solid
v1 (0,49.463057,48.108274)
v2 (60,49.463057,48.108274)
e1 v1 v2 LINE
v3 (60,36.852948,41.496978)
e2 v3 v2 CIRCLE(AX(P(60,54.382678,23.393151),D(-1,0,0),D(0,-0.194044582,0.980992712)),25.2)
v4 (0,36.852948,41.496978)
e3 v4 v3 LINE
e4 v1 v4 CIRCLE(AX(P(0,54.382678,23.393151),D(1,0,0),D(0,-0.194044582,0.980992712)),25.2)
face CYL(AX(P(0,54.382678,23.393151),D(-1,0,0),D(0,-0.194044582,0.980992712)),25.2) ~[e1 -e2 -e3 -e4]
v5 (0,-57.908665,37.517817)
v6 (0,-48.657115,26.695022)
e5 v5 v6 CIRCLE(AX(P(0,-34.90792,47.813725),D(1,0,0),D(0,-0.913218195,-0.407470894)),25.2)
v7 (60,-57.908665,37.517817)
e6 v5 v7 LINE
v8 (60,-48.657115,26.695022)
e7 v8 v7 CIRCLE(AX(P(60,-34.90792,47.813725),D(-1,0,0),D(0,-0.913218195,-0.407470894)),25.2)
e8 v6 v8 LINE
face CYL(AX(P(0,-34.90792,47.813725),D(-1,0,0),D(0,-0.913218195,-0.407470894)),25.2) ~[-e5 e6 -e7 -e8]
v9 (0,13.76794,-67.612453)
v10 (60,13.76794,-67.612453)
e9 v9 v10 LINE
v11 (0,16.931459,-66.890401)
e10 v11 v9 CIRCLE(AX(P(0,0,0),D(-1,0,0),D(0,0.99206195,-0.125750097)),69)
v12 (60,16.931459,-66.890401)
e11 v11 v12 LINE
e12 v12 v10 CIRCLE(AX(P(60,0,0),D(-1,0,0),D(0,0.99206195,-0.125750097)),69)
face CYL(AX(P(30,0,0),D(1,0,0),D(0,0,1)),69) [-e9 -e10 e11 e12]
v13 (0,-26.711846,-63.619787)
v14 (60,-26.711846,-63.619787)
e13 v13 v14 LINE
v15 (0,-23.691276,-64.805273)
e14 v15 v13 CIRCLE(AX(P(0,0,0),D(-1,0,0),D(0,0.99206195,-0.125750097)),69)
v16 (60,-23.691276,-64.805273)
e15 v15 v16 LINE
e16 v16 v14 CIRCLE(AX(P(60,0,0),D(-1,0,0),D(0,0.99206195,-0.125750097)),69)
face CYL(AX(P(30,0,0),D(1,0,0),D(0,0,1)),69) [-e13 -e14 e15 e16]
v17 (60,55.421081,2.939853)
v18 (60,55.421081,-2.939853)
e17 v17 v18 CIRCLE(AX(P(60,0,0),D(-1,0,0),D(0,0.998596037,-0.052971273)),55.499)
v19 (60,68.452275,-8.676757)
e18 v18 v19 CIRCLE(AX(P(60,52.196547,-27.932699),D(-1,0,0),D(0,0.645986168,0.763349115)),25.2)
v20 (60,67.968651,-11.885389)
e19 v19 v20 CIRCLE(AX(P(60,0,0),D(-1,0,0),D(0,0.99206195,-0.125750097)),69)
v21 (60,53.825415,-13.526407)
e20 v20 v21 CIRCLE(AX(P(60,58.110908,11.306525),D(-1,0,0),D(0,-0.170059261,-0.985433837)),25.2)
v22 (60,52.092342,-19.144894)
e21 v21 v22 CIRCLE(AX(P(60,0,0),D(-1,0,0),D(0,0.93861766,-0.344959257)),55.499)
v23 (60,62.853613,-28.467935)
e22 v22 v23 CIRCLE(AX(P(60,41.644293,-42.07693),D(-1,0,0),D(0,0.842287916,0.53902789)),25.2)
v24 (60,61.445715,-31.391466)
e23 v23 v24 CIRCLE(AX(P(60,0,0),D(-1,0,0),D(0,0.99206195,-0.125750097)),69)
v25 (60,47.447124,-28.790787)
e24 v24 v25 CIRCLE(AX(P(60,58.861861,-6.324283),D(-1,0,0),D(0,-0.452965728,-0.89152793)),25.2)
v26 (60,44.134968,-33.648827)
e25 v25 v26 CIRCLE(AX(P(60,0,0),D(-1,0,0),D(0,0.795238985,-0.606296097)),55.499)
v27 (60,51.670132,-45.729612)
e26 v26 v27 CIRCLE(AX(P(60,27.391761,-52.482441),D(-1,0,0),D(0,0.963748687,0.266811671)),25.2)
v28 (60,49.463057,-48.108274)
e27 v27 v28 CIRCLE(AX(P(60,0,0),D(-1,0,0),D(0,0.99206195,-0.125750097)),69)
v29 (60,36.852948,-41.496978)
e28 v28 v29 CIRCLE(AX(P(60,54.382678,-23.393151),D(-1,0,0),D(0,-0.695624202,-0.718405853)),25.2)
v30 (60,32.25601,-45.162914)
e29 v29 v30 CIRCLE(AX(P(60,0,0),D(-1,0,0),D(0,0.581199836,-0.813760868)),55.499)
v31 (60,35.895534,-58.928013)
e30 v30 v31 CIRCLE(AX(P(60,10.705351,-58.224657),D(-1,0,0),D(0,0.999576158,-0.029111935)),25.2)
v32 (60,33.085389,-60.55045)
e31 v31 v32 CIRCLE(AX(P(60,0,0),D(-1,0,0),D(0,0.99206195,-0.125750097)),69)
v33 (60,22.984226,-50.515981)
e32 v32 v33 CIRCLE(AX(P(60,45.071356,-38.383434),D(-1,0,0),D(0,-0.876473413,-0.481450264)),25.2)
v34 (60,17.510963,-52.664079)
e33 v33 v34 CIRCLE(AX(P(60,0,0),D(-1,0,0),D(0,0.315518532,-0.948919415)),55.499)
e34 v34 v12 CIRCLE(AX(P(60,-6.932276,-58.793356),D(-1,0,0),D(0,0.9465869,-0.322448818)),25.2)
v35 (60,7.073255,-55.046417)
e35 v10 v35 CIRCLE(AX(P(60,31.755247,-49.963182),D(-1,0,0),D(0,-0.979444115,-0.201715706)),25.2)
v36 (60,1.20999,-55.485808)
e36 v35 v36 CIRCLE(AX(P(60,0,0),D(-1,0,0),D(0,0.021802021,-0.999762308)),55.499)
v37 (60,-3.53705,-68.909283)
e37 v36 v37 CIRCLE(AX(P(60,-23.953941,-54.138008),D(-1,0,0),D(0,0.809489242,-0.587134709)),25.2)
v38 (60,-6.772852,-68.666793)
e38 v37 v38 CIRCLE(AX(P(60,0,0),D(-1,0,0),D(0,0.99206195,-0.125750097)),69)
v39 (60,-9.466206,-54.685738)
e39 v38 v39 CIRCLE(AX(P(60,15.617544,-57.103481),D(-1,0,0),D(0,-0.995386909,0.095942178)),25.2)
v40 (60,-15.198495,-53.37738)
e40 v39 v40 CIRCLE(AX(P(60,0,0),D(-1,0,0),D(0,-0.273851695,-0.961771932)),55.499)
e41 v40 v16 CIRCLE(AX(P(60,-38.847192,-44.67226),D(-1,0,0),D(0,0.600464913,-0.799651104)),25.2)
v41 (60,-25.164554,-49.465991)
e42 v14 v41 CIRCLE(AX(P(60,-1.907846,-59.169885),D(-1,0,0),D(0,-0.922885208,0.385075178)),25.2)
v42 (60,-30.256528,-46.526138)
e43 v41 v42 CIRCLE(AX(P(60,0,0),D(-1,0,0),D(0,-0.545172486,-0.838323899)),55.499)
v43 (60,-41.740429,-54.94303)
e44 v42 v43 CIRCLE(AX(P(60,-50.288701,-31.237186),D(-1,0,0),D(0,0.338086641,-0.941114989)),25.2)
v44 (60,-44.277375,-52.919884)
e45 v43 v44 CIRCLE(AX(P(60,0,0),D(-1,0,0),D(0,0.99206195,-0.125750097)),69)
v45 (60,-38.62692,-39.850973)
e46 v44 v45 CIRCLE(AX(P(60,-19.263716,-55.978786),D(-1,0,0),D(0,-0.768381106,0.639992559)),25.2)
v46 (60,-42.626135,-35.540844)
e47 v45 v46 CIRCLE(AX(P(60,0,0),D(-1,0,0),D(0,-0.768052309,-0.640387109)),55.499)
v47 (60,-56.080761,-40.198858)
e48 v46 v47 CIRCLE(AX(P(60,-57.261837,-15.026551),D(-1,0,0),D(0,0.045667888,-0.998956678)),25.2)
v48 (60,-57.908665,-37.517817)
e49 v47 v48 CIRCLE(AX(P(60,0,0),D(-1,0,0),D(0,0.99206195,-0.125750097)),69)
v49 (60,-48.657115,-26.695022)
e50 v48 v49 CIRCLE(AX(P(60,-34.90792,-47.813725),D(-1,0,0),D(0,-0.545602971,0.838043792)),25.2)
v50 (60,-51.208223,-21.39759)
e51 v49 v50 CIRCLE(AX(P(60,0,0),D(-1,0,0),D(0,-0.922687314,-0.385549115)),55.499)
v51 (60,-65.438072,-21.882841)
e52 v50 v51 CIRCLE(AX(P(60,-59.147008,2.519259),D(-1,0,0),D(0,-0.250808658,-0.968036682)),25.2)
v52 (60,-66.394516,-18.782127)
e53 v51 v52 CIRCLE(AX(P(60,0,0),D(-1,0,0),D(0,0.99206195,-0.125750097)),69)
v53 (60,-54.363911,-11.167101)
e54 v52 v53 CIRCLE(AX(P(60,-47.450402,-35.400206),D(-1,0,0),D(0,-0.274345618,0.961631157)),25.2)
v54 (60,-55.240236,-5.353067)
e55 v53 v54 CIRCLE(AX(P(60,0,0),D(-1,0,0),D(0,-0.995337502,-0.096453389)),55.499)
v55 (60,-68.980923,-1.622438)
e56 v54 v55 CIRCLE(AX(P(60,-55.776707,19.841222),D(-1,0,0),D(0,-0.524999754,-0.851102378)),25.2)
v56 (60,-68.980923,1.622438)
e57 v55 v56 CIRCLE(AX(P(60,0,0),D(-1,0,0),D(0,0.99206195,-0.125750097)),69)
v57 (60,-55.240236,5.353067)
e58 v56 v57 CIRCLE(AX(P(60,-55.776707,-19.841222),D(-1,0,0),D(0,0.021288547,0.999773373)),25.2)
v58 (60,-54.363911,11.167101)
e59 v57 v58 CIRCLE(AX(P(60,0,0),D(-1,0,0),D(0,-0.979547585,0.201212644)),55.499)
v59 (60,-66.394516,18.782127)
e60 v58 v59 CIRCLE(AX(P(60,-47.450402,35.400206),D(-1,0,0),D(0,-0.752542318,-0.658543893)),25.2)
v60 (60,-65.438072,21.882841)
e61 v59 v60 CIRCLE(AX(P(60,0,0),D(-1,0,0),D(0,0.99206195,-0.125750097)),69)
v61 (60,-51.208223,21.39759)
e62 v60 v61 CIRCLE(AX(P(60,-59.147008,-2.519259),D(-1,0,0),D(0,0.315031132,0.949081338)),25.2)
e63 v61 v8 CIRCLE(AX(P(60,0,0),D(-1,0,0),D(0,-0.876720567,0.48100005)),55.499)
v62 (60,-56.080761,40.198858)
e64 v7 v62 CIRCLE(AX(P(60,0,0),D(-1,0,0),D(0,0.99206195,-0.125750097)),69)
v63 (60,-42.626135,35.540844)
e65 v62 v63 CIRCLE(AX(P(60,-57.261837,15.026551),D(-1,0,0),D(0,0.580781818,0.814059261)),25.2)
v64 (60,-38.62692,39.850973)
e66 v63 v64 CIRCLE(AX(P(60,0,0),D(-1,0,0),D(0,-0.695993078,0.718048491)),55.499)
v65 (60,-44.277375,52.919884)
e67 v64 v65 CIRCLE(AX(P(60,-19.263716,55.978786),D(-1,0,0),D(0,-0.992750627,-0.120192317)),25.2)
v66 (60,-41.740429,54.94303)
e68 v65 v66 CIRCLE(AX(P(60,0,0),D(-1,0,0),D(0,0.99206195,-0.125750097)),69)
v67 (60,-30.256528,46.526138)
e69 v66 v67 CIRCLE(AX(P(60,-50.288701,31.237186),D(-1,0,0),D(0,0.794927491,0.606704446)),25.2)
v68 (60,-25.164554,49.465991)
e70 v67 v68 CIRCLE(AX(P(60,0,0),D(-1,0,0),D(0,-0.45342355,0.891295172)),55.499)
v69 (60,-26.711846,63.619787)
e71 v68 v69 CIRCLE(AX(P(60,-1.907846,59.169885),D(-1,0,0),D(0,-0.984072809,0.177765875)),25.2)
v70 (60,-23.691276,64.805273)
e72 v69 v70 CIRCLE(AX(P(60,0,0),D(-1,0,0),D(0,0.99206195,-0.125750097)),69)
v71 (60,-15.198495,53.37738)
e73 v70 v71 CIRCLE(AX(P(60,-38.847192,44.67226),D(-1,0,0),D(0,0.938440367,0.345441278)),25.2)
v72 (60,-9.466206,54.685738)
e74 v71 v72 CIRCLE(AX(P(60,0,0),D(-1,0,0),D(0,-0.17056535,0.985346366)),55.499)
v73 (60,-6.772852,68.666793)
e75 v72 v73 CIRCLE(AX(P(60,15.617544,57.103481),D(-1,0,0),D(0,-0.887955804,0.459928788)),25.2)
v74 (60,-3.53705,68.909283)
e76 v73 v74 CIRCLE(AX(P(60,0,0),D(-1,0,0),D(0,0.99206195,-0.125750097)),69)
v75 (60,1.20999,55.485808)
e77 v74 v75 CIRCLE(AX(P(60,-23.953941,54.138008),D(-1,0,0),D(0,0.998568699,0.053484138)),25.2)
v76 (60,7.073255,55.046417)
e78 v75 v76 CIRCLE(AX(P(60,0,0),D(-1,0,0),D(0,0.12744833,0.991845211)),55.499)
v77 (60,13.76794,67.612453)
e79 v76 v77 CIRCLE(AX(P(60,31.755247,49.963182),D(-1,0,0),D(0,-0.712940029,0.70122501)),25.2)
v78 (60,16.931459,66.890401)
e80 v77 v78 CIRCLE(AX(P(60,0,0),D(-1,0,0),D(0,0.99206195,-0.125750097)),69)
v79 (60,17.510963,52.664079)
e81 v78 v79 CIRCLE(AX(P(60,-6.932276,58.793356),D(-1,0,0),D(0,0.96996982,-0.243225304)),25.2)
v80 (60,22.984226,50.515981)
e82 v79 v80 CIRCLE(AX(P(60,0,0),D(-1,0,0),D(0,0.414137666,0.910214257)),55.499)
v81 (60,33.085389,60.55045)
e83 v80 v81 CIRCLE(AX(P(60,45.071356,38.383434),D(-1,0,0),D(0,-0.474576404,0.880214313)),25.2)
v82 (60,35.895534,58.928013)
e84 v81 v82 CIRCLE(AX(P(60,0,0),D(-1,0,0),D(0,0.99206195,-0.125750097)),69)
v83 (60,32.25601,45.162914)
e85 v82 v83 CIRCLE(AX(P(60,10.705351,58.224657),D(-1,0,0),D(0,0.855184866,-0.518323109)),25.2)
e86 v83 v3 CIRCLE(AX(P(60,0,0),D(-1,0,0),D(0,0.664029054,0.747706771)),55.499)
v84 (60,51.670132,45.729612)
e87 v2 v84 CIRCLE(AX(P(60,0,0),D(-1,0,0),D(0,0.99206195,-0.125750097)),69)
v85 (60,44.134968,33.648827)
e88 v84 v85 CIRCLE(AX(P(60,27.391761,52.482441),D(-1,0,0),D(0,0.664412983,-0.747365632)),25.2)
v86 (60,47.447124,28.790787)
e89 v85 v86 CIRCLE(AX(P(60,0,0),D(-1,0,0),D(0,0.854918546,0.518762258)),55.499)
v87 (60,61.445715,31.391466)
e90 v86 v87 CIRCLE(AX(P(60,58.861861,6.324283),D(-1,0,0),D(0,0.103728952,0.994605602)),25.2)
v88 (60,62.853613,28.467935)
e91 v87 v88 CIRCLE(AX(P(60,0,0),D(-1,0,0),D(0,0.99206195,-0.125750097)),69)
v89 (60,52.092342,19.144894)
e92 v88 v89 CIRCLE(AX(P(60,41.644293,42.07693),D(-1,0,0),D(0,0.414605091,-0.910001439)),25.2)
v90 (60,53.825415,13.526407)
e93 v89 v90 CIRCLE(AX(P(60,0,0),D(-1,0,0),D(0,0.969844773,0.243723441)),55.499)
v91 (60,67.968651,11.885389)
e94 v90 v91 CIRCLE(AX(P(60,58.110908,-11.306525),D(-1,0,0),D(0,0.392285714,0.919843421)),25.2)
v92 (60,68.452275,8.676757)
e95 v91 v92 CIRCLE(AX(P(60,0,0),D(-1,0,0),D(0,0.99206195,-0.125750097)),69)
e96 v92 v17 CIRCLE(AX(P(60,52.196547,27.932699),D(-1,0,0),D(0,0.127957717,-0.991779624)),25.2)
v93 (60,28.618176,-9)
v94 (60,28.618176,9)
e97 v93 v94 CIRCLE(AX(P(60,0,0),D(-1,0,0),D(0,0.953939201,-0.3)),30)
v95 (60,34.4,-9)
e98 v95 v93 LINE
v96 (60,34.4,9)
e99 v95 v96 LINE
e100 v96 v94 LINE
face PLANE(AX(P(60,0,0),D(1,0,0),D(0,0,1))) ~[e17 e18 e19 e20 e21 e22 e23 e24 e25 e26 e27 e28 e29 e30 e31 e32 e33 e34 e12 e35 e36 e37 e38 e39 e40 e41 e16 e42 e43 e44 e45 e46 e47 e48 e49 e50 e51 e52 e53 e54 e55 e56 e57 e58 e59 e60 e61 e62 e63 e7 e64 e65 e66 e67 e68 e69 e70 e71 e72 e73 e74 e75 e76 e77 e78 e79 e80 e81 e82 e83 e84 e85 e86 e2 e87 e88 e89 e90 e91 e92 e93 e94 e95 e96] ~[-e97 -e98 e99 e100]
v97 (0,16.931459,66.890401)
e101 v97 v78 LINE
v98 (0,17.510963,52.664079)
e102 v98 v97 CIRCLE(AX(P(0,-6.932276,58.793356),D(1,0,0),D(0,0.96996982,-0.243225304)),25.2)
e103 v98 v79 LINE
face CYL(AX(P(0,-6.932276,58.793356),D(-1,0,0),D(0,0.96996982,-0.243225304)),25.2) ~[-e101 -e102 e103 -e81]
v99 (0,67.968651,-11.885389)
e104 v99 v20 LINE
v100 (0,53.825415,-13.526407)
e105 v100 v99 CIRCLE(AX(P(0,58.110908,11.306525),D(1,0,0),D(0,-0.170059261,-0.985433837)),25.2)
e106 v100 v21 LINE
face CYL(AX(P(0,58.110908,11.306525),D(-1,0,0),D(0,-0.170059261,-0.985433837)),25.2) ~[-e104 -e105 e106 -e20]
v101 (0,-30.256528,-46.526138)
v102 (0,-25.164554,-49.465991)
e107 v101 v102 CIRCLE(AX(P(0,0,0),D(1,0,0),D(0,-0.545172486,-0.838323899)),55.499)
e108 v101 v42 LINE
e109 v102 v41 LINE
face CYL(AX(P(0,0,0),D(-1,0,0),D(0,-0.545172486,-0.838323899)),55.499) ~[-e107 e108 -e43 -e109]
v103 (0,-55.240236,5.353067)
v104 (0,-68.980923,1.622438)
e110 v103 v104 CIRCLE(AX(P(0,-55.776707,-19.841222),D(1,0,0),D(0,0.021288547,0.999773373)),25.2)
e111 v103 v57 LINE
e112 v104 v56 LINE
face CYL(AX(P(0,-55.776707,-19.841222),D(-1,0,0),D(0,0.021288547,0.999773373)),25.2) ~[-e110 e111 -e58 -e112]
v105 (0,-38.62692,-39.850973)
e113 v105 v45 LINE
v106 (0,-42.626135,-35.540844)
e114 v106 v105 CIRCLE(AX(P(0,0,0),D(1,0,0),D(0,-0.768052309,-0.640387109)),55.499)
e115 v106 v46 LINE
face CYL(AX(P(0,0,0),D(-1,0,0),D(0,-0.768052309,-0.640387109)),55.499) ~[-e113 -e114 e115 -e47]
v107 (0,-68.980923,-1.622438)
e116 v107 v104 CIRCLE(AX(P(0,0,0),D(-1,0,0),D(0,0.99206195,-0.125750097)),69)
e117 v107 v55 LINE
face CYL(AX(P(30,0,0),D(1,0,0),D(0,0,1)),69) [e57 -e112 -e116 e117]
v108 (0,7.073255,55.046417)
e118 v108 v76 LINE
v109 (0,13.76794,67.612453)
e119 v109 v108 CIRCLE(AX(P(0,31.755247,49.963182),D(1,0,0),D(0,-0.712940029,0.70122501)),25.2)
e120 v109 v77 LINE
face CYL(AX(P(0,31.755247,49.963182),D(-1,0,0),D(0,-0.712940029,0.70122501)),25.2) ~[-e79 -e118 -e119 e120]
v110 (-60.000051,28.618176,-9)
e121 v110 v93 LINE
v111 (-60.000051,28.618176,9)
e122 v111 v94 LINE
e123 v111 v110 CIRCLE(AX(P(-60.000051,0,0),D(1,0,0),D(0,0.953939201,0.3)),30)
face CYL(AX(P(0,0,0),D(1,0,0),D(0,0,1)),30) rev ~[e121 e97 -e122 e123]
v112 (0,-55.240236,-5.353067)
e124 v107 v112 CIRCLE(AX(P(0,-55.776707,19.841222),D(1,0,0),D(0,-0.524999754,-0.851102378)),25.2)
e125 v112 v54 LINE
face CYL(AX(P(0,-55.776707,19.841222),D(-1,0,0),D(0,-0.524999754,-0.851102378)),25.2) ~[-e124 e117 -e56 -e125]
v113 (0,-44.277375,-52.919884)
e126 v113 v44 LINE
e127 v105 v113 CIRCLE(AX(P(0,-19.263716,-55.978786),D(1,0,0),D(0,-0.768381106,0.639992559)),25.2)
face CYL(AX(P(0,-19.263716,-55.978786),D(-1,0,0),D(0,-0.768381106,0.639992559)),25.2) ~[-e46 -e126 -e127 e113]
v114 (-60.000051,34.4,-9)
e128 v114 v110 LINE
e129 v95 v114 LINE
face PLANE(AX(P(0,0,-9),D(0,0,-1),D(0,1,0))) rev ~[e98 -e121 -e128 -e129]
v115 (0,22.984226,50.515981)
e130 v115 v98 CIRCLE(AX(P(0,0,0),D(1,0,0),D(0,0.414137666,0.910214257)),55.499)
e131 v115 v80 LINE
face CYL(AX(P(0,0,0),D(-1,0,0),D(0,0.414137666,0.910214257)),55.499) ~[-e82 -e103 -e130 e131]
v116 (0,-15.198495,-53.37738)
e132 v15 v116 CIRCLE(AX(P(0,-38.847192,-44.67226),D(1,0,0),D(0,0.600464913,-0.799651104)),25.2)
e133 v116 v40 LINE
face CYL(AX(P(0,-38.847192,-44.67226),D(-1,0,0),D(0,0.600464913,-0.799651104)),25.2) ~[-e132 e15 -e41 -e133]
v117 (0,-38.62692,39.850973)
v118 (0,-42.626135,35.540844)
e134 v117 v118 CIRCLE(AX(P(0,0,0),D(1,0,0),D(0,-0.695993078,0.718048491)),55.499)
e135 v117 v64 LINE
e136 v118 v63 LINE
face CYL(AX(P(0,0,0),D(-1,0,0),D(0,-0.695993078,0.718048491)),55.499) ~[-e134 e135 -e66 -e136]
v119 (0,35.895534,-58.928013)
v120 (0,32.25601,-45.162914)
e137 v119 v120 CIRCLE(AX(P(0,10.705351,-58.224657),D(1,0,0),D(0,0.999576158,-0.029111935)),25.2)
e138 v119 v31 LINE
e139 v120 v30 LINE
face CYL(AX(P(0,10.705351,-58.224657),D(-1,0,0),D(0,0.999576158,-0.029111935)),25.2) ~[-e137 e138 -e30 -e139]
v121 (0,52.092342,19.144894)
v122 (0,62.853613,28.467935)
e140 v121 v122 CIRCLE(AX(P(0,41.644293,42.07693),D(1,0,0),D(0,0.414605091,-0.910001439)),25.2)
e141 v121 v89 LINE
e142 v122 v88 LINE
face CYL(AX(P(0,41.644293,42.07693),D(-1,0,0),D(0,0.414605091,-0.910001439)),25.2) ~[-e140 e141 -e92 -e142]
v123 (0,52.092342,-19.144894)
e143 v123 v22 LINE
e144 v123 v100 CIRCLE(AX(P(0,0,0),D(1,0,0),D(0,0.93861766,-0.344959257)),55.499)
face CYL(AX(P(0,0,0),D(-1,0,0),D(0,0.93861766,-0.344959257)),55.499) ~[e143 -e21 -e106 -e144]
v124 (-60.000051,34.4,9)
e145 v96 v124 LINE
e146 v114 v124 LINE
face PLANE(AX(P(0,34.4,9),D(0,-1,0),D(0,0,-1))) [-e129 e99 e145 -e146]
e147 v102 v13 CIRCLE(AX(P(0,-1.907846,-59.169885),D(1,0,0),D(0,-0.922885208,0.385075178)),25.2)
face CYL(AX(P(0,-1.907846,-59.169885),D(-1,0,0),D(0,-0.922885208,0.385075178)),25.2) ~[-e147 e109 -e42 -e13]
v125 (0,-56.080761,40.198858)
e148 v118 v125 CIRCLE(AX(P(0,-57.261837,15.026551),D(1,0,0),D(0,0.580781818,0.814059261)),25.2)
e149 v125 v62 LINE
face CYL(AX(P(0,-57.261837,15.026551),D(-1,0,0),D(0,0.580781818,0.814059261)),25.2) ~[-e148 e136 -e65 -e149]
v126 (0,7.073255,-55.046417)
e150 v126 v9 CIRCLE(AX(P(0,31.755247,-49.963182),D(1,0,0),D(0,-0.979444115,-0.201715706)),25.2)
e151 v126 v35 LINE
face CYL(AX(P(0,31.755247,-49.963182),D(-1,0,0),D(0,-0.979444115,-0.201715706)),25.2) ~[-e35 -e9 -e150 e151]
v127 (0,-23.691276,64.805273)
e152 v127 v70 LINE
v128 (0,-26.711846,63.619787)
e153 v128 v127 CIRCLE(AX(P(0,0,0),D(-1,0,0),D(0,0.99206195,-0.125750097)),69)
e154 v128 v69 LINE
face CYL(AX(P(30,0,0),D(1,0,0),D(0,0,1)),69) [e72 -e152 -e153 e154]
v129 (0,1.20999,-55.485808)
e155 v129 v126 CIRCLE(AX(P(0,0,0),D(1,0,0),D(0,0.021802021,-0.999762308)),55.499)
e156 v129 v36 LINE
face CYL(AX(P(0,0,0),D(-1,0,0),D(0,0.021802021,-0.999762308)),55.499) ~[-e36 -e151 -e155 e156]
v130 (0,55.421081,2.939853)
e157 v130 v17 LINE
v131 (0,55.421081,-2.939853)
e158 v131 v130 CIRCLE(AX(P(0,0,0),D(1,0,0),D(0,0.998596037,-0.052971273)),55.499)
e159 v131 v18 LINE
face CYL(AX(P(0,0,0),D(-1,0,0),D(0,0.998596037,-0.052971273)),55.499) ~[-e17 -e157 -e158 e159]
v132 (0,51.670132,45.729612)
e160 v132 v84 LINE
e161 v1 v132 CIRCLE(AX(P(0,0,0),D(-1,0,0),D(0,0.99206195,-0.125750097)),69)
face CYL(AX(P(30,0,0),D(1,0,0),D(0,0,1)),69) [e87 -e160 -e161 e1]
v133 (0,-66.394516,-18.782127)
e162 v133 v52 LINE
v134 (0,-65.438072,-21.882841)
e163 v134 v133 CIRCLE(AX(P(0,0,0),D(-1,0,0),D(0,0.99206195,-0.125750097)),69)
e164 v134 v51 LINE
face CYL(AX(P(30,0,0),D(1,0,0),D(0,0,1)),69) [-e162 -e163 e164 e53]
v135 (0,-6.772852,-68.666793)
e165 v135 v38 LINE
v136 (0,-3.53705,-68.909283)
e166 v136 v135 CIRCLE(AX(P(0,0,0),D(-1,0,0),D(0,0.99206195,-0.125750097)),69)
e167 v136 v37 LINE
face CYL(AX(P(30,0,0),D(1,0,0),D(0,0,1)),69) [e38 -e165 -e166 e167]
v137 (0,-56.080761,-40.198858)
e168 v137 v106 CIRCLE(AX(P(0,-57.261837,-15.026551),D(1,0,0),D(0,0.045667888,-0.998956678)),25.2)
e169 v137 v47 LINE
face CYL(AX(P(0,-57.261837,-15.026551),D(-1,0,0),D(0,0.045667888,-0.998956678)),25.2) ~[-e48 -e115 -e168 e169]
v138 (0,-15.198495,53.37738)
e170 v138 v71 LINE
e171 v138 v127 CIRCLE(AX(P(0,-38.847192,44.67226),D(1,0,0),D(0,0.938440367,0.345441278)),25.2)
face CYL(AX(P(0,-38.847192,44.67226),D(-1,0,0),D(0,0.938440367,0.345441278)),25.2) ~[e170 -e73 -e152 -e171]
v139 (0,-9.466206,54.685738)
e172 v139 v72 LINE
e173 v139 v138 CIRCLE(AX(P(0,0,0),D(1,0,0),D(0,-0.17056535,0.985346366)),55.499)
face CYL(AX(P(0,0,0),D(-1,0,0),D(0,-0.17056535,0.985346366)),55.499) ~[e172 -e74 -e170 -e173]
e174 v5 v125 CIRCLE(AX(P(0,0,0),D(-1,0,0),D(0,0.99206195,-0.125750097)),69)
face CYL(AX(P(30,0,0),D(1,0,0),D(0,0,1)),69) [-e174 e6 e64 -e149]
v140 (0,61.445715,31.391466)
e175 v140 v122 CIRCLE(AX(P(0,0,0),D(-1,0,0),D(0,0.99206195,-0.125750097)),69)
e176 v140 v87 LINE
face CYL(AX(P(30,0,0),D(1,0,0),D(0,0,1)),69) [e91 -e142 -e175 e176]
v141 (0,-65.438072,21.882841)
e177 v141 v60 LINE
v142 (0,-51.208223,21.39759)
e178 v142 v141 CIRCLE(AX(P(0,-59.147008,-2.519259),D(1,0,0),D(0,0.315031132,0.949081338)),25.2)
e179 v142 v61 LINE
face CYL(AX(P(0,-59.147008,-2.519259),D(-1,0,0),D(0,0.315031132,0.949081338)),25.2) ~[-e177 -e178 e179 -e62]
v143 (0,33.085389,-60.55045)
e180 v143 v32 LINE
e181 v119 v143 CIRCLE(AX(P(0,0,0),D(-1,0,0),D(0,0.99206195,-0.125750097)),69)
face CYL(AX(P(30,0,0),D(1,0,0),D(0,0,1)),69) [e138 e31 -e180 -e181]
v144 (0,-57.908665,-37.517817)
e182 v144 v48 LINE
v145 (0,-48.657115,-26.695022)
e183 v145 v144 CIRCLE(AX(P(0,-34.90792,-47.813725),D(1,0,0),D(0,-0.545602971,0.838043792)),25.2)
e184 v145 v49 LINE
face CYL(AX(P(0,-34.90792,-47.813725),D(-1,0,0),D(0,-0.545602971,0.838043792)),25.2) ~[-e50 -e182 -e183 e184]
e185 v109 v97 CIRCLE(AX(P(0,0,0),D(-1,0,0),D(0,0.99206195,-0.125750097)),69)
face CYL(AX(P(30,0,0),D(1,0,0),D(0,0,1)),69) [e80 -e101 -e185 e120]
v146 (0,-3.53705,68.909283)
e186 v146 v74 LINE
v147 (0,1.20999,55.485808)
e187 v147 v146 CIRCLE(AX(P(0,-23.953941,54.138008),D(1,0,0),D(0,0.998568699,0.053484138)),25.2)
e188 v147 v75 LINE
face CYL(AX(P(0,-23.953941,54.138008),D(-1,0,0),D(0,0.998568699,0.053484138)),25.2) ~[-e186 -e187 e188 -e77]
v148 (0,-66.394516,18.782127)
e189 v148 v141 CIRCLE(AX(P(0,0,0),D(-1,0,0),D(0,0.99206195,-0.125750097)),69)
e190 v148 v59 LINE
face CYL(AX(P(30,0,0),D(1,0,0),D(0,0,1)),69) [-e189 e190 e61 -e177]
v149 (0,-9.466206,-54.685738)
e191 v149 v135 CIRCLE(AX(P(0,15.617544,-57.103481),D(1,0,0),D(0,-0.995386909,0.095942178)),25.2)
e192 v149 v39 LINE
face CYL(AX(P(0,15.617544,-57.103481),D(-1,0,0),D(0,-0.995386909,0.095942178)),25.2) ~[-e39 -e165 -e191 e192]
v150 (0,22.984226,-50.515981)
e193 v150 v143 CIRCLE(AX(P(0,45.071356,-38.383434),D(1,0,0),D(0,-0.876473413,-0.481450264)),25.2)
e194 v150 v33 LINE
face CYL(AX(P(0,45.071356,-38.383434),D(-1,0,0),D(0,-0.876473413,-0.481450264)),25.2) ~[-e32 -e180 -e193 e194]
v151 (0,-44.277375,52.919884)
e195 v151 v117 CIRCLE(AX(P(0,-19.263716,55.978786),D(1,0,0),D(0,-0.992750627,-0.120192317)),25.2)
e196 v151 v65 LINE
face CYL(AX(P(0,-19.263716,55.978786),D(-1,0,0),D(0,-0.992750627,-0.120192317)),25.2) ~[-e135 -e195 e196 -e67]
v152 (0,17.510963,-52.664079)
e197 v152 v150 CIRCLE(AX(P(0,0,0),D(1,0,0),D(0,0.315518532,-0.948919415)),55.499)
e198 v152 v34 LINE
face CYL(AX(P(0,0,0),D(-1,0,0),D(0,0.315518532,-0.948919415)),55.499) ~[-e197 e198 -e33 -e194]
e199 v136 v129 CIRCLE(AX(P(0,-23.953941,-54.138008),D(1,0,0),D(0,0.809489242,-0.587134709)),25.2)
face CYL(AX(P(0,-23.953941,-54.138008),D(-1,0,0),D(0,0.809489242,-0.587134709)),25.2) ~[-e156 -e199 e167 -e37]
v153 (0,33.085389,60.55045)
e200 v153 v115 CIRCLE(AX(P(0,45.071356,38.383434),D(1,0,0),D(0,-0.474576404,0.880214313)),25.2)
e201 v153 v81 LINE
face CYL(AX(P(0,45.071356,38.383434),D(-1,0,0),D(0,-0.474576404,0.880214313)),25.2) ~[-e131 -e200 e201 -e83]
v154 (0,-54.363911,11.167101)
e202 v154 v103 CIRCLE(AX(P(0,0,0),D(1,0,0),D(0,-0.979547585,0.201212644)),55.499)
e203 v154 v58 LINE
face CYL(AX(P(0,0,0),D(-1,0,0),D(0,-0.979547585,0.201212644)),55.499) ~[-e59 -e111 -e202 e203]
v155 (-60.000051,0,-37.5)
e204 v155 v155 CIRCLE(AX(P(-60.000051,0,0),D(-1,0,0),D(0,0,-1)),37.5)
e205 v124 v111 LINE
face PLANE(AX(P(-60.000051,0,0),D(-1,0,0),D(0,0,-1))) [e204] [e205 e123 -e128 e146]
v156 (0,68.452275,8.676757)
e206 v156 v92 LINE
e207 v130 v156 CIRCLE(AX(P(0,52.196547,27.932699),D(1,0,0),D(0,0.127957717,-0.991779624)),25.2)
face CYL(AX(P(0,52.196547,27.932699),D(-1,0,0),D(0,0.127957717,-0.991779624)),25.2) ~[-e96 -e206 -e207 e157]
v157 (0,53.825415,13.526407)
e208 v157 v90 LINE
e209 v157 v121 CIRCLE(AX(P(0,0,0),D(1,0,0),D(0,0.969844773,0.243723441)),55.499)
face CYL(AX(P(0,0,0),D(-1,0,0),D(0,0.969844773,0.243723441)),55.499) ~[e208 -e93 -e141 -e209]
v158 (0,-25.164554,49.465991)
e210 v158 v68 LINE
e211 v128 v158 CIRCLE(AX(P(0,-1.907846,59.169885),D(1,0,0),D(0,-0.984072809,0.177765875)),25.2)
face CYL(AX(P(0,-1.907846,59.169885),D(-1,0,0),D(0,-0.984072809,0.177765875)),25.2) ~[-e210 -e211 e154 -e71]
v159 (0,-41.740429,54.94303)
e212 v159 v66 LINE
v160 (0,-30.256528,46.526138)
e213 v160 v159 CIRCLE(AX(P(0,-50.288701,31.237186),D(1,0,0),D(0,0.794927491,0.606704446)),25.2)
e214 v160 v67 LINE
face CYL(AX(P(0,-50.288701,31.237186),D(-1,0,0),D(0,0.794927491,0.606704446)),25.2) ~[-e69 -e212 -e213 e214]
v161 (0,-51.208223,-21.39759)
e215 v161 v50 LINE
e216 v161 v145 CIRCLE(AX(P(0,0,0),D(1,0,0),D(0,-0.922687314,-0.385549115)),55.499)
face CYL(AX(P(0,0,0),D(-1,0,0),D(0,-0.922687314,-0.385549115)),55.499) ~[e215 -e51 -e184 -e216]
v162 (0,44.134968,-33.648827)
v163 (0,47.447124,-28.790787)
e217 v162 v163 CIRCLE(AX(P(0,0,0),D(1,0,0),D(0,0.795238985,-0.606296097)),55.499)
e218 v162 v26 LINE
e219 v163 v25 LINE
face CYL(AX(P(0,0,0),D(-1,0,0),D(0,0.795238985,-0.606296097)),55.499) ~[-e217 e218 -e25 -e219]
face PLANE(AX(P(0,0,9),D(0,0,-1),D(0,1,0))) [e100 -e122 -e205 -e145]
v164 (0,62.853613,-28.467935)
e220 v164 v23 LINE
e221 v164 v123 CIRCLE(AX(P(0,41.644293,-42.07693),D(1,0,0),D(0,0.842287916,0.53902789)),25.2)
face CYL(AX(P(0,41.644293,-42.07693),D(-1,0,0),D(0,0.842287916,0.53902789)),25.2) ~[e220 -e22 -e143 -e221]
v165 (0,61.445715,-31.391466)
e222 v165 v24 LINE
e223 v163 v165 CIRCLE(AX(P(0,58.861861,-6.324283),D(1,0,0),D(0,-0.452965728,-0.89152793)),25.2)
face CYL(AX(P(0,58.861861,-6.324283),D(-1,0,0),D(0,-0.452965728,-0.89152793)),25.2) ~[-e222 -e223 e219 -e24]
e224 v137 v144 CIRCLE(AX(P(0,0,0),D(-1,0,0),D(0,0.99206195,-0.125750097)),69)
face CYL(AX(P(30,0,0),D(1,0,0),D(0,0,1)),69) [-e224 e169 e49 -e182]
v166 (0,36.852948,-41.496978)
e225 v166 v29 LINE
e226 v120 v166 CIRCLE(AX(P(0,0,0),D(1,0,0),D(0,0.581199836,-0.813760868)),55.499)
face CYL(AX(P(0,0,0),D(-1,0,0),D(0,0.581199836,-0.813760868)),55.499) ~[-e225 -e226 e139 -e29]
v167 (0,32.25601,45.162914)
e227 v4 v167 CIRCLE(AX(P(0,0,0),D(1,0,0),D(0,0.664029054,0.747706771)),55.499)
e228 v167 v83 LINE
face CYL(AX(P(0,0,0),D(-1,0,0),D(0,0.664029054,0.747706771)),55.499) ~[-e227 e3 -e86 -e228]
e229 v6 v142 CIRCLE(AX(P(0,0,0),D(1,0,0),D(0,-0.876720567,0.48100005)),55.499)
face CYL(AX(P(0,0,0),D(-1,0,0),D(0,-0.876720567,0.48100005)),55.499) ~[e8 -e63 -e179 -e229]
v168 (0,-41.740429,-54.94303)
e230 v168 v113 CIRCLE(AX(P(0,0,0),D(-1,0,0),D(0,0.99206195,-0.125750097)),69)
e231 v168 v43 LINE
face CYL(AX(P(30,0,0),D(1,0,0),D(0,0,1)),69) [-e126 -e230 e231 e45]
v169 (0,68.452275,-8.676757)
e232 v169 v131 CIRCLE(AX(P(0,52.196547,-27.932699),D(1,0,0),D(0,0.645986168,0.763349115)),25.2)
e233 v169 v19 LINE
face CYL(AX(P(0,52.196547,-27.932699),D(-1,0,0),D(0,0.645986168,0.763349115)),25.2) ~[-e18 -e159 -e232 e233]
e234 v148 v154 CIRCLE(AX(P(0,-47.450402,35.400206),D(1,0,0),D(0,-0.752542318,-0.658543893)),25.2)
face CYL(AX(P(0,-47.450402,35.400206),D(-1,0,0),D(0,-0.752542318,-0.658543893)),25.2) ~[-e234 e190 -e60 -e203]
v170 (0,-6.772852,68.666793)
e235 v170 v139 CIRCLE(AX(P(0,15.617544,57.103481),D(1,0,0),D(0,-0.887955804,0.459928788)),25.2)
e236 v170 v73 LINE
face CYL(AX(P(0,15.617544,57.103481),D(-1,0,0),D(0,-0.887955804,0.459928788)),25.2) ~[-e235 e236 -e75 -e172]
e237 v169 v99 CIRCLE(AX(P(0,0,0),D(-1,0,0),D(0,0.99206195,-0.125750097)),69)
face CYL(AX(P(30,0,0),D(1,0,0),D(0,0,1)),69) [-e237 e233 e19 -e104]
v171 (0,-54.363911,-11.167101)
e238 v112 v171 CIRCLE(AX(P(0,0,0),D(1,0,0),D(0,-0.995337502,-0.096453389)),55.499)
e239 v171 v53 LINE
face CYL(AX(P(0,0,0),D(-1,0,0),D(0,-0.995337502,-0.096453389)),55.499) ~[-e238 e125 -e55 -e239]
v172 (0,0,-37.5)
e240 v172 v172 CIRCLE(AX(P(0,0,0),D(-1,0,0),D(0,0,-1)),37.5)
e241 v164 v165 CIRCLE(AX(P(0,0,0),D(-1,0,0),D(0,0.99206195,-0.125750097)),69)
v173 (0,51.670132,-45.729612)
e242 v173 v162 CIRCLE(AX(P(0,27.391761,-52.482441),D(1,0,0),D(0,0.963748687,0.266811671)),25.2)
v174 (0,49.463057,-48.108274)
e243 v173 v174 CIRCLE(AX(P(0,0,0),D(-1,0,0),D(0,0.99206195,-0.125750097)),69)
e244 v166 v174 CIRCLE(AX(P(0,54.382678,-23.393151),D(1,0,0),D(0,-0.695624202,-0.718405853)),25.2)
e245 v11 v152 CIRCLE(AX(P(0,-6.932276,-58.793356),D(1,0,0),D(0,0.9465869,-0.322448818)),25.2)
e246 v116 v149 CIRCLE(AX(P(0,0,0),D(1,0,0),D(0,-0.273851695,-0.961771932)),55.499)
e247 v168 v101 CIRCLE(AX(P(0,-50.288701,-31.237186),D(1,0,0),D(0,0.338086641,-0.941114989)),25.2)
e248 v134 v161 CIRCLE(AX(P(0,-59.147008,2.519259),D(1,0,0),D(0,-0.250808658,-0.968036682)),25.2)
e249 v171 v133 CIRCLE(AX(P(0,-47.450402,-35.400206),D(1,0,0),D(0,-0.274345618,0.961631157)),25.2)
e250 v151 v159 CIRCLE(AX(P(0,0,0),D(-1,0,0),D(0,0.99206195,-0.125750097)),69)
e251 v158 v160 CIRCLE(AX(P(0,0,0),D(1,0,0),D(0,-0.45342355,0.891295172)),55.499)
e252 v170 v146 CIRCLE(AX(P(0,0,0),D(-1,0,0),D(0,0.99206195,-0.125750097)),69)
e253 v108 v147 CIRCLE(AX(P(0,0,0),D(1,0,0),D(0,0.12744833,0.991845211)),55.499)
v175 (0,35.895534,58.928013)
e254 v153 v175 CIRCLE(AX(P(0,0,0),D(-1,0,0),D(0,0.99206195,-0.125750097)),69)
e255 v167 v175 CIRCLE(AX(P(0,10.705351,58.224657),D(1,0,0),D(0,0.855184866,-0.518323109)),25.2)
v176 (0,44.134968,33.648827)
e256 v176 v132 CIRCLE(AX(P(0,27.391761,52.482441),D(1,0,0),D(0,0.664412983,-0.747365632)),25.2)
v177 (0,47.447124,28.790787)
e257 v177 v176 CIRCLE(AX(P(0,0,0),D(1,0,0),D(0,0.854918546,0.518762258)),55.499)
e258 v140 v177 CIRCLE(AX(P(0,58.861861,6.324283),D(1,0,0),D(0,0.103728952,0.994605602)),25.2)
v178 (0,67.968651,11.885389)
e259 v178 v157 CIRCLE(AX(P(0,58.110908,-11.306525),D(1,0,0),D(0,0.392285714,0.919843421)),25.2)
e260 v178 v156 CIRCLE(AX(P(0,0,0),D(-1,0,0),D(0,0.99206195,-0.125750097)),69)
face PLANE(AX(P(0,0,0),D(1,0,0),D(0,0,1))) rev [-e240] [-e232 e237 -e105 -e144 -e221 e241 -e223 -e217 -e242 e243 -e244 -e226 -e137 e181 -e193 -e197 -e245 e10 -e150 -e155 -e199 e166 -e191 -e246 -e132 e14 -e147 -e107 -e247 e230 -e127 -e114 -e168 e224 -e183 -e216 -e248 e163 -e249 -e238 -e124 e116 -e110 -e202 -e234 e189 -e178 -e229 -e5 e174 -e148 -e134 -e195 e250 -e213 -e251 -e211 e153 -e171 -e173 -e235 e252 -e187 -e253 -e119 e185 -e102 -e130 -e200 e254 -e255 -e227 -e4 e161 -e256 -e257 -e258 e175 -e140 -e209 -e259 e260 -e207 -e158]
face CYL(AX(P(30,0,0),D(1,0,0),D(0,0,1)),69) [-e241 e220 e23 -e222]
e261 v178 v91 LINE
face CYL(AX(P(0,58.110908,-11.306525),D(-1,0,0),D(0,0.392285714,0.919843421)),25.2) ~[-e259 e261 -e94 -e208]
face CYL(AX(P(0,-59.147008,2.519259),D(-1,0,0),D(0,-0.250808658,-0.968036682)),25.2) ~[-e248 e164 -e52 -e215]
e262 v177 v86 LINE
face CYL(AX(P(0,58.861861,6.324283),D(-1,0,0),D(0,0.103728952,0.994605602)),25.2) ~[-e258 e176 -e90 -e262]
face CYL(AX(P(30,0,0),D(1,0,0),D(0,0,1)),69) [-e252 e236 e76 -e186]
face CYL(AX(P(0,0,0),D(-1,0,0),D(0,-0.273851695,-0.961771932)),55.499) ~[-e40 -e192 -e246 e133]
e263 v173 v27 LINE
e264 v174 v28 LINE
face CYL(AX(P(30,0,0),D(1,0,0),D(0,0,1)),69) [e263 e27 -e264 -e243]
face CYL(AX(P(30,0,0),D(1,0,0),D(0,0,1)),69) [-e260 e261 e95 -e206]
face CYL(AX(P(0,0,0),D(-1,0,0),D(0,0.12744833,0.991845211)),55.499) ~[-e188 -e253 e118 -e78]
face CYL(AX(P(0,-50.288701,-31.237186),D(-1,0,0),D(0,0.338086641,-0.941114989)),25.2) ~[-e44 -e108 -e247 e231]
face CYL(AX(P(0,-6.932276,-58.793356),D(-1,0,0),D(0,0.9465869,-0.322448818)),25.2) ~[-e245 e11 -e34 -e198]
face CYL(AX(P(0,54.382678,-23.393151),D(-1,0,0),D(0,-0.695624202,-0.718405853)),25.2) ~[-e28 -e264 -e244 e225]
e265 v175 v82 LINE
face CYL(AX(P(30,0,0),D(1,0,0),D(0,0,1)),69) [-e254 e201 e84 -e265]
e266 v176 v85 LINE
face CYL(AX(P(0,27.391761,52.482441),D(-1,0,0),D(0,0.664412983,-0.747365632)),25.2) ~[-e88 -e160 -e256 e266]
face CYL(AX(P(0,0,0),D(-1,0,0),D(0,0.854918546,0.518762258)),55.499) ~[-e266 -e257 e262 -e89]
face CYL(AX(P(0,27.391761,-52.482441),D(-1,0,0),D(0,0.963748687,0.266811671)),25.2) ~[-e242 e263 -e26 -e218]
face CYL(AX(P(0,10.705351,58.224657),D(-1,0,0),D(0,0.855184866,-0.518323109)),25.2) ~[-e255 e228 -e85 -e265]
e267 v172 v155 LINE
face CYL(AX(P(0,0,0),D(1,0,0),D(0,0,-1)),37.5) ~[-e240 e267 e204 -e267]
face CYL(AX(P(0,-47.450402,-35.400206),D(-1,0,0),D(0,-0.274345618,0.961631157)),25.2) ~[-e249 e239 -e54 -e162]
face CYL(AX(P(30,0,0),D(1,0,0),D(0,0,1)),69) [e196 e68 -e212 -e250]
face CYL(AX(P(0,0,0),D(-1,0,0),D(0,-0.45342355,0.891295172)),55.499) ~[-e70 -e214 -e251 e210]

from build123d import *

# Parameters (mm, degrees)
BASPROSKE_W      = 60
BASPROSKE_H      = 69
TOOTHCUT_DEPTH   = 115.551298552
TEETHCUTS_COUNT  = 21
TEETHCUTS_ANGLE  = 342.857142857
HUBNEAONESKE_R   = 37.5
HUBNEARONE_DEPTH = 60.0000508
BORSKE_R         = 30
BORE_DEPTH       = 120.0000508
KEYSKE_W         = 18
KEYSKE_H         = 34.4
KEYWAY_DEPTH     = 120.0000508


with BuildPart() as part:
    # BasProSke → Base-Revolve (revolve)
    with BuildSketch(Plane(origin=(0, 0, 0), x_dir=(1, 0, 0), z_dir=(0, 1, 0)), mode=Mode.PRIVATE) as base_revolve_sk:
        with Locations((30, 34.5)):
            Rectangle(BASPROSKE_W, BASPROSKE_H)
    revolve(base_revolve_sk.sketch.rotate(Axis((-10, 0, 0), (1, 0, 0)), 180), axis=Axis((-10, 0, 0), (1, 0, 0)))

    # TooCutSke → ToothCut (cut, through all)
    with BuildSketch(Plane(origin=(0, 0, 0), x_dir=(0, 0, -1), z_dir=(1, 0, 0))):
        with BuildLine():
            ThreePointArc((2.93985266, 55.421081434), (0, 55.499), (-2.93985266, 55.421081434))
            ThreePointArc((-2.93985266, 55.421081434), (-4.874938915, 62.364127365), (-8.696301499, 68.475398395))
            ThreePointArc((-8.696301499, 68.475398395), (0, 69.0254), (8.696301499, 68.475398395))
            ThreePointArc((8.696301499, 68.475398395), (4.874938915, 62.364127365), (2.93985266, 55.421081434))
        make_face()
    toothcut = extrude(amount=TOOTHCUT_DEPTH, mode=Mode.SUBTRACT)

    # TeethCuts: ToothCut ×21 about axis
    teethcuts_axis = Axis((-10, 0, 0), (1, 0, 0))
    for i in range(1, TEETHCUTS_COUNT):
        add(toothcut.rotate(teethcuts_axis, i * TEETHCUTS_ANGLE / (TEETHCUTS_COUNT - 1)), mode=Mode.SUBTRACT)

    # HubNeaOneSke → HubNearOne (add)
    with BuildSketch(Plane.ZY):
        with Locations(Location((0, 0, 0), (0, 0, 180))):
            Circle(HUBNEAONESKE_R)
    extrude(amount=HUBNEARONE_DEPTH)

    # BorSke → Bore (cut, symmetric)
    with BuildSketch(Plane(origin=(0, 0, 0), x_dir=(0, 0, -1), z_dir=(1, 0, 0))):
        with Locations(Location((0, 0, 0), (0, 0, 180))):
            Circle(BORSKE_R)
    extrude(amount=BORE_DEPTH, both=True, mode=Mode.SUBTRACT)

    # KeySke → Keyway (cut, symmetric)
    with BuildSketch(Plane(origin=(0, 0, 0), x_dir=(0, 0, -1), z_dir=(1, 0, 0))):
        with Locations((0, 17.2)):
            Rectangle(KEYSKE_W, KEYSKE_H)
    extrude(amount=KEYWAY_DEPTH, both=True, mode=Mode.SUBTRACT)


solid = part.part
